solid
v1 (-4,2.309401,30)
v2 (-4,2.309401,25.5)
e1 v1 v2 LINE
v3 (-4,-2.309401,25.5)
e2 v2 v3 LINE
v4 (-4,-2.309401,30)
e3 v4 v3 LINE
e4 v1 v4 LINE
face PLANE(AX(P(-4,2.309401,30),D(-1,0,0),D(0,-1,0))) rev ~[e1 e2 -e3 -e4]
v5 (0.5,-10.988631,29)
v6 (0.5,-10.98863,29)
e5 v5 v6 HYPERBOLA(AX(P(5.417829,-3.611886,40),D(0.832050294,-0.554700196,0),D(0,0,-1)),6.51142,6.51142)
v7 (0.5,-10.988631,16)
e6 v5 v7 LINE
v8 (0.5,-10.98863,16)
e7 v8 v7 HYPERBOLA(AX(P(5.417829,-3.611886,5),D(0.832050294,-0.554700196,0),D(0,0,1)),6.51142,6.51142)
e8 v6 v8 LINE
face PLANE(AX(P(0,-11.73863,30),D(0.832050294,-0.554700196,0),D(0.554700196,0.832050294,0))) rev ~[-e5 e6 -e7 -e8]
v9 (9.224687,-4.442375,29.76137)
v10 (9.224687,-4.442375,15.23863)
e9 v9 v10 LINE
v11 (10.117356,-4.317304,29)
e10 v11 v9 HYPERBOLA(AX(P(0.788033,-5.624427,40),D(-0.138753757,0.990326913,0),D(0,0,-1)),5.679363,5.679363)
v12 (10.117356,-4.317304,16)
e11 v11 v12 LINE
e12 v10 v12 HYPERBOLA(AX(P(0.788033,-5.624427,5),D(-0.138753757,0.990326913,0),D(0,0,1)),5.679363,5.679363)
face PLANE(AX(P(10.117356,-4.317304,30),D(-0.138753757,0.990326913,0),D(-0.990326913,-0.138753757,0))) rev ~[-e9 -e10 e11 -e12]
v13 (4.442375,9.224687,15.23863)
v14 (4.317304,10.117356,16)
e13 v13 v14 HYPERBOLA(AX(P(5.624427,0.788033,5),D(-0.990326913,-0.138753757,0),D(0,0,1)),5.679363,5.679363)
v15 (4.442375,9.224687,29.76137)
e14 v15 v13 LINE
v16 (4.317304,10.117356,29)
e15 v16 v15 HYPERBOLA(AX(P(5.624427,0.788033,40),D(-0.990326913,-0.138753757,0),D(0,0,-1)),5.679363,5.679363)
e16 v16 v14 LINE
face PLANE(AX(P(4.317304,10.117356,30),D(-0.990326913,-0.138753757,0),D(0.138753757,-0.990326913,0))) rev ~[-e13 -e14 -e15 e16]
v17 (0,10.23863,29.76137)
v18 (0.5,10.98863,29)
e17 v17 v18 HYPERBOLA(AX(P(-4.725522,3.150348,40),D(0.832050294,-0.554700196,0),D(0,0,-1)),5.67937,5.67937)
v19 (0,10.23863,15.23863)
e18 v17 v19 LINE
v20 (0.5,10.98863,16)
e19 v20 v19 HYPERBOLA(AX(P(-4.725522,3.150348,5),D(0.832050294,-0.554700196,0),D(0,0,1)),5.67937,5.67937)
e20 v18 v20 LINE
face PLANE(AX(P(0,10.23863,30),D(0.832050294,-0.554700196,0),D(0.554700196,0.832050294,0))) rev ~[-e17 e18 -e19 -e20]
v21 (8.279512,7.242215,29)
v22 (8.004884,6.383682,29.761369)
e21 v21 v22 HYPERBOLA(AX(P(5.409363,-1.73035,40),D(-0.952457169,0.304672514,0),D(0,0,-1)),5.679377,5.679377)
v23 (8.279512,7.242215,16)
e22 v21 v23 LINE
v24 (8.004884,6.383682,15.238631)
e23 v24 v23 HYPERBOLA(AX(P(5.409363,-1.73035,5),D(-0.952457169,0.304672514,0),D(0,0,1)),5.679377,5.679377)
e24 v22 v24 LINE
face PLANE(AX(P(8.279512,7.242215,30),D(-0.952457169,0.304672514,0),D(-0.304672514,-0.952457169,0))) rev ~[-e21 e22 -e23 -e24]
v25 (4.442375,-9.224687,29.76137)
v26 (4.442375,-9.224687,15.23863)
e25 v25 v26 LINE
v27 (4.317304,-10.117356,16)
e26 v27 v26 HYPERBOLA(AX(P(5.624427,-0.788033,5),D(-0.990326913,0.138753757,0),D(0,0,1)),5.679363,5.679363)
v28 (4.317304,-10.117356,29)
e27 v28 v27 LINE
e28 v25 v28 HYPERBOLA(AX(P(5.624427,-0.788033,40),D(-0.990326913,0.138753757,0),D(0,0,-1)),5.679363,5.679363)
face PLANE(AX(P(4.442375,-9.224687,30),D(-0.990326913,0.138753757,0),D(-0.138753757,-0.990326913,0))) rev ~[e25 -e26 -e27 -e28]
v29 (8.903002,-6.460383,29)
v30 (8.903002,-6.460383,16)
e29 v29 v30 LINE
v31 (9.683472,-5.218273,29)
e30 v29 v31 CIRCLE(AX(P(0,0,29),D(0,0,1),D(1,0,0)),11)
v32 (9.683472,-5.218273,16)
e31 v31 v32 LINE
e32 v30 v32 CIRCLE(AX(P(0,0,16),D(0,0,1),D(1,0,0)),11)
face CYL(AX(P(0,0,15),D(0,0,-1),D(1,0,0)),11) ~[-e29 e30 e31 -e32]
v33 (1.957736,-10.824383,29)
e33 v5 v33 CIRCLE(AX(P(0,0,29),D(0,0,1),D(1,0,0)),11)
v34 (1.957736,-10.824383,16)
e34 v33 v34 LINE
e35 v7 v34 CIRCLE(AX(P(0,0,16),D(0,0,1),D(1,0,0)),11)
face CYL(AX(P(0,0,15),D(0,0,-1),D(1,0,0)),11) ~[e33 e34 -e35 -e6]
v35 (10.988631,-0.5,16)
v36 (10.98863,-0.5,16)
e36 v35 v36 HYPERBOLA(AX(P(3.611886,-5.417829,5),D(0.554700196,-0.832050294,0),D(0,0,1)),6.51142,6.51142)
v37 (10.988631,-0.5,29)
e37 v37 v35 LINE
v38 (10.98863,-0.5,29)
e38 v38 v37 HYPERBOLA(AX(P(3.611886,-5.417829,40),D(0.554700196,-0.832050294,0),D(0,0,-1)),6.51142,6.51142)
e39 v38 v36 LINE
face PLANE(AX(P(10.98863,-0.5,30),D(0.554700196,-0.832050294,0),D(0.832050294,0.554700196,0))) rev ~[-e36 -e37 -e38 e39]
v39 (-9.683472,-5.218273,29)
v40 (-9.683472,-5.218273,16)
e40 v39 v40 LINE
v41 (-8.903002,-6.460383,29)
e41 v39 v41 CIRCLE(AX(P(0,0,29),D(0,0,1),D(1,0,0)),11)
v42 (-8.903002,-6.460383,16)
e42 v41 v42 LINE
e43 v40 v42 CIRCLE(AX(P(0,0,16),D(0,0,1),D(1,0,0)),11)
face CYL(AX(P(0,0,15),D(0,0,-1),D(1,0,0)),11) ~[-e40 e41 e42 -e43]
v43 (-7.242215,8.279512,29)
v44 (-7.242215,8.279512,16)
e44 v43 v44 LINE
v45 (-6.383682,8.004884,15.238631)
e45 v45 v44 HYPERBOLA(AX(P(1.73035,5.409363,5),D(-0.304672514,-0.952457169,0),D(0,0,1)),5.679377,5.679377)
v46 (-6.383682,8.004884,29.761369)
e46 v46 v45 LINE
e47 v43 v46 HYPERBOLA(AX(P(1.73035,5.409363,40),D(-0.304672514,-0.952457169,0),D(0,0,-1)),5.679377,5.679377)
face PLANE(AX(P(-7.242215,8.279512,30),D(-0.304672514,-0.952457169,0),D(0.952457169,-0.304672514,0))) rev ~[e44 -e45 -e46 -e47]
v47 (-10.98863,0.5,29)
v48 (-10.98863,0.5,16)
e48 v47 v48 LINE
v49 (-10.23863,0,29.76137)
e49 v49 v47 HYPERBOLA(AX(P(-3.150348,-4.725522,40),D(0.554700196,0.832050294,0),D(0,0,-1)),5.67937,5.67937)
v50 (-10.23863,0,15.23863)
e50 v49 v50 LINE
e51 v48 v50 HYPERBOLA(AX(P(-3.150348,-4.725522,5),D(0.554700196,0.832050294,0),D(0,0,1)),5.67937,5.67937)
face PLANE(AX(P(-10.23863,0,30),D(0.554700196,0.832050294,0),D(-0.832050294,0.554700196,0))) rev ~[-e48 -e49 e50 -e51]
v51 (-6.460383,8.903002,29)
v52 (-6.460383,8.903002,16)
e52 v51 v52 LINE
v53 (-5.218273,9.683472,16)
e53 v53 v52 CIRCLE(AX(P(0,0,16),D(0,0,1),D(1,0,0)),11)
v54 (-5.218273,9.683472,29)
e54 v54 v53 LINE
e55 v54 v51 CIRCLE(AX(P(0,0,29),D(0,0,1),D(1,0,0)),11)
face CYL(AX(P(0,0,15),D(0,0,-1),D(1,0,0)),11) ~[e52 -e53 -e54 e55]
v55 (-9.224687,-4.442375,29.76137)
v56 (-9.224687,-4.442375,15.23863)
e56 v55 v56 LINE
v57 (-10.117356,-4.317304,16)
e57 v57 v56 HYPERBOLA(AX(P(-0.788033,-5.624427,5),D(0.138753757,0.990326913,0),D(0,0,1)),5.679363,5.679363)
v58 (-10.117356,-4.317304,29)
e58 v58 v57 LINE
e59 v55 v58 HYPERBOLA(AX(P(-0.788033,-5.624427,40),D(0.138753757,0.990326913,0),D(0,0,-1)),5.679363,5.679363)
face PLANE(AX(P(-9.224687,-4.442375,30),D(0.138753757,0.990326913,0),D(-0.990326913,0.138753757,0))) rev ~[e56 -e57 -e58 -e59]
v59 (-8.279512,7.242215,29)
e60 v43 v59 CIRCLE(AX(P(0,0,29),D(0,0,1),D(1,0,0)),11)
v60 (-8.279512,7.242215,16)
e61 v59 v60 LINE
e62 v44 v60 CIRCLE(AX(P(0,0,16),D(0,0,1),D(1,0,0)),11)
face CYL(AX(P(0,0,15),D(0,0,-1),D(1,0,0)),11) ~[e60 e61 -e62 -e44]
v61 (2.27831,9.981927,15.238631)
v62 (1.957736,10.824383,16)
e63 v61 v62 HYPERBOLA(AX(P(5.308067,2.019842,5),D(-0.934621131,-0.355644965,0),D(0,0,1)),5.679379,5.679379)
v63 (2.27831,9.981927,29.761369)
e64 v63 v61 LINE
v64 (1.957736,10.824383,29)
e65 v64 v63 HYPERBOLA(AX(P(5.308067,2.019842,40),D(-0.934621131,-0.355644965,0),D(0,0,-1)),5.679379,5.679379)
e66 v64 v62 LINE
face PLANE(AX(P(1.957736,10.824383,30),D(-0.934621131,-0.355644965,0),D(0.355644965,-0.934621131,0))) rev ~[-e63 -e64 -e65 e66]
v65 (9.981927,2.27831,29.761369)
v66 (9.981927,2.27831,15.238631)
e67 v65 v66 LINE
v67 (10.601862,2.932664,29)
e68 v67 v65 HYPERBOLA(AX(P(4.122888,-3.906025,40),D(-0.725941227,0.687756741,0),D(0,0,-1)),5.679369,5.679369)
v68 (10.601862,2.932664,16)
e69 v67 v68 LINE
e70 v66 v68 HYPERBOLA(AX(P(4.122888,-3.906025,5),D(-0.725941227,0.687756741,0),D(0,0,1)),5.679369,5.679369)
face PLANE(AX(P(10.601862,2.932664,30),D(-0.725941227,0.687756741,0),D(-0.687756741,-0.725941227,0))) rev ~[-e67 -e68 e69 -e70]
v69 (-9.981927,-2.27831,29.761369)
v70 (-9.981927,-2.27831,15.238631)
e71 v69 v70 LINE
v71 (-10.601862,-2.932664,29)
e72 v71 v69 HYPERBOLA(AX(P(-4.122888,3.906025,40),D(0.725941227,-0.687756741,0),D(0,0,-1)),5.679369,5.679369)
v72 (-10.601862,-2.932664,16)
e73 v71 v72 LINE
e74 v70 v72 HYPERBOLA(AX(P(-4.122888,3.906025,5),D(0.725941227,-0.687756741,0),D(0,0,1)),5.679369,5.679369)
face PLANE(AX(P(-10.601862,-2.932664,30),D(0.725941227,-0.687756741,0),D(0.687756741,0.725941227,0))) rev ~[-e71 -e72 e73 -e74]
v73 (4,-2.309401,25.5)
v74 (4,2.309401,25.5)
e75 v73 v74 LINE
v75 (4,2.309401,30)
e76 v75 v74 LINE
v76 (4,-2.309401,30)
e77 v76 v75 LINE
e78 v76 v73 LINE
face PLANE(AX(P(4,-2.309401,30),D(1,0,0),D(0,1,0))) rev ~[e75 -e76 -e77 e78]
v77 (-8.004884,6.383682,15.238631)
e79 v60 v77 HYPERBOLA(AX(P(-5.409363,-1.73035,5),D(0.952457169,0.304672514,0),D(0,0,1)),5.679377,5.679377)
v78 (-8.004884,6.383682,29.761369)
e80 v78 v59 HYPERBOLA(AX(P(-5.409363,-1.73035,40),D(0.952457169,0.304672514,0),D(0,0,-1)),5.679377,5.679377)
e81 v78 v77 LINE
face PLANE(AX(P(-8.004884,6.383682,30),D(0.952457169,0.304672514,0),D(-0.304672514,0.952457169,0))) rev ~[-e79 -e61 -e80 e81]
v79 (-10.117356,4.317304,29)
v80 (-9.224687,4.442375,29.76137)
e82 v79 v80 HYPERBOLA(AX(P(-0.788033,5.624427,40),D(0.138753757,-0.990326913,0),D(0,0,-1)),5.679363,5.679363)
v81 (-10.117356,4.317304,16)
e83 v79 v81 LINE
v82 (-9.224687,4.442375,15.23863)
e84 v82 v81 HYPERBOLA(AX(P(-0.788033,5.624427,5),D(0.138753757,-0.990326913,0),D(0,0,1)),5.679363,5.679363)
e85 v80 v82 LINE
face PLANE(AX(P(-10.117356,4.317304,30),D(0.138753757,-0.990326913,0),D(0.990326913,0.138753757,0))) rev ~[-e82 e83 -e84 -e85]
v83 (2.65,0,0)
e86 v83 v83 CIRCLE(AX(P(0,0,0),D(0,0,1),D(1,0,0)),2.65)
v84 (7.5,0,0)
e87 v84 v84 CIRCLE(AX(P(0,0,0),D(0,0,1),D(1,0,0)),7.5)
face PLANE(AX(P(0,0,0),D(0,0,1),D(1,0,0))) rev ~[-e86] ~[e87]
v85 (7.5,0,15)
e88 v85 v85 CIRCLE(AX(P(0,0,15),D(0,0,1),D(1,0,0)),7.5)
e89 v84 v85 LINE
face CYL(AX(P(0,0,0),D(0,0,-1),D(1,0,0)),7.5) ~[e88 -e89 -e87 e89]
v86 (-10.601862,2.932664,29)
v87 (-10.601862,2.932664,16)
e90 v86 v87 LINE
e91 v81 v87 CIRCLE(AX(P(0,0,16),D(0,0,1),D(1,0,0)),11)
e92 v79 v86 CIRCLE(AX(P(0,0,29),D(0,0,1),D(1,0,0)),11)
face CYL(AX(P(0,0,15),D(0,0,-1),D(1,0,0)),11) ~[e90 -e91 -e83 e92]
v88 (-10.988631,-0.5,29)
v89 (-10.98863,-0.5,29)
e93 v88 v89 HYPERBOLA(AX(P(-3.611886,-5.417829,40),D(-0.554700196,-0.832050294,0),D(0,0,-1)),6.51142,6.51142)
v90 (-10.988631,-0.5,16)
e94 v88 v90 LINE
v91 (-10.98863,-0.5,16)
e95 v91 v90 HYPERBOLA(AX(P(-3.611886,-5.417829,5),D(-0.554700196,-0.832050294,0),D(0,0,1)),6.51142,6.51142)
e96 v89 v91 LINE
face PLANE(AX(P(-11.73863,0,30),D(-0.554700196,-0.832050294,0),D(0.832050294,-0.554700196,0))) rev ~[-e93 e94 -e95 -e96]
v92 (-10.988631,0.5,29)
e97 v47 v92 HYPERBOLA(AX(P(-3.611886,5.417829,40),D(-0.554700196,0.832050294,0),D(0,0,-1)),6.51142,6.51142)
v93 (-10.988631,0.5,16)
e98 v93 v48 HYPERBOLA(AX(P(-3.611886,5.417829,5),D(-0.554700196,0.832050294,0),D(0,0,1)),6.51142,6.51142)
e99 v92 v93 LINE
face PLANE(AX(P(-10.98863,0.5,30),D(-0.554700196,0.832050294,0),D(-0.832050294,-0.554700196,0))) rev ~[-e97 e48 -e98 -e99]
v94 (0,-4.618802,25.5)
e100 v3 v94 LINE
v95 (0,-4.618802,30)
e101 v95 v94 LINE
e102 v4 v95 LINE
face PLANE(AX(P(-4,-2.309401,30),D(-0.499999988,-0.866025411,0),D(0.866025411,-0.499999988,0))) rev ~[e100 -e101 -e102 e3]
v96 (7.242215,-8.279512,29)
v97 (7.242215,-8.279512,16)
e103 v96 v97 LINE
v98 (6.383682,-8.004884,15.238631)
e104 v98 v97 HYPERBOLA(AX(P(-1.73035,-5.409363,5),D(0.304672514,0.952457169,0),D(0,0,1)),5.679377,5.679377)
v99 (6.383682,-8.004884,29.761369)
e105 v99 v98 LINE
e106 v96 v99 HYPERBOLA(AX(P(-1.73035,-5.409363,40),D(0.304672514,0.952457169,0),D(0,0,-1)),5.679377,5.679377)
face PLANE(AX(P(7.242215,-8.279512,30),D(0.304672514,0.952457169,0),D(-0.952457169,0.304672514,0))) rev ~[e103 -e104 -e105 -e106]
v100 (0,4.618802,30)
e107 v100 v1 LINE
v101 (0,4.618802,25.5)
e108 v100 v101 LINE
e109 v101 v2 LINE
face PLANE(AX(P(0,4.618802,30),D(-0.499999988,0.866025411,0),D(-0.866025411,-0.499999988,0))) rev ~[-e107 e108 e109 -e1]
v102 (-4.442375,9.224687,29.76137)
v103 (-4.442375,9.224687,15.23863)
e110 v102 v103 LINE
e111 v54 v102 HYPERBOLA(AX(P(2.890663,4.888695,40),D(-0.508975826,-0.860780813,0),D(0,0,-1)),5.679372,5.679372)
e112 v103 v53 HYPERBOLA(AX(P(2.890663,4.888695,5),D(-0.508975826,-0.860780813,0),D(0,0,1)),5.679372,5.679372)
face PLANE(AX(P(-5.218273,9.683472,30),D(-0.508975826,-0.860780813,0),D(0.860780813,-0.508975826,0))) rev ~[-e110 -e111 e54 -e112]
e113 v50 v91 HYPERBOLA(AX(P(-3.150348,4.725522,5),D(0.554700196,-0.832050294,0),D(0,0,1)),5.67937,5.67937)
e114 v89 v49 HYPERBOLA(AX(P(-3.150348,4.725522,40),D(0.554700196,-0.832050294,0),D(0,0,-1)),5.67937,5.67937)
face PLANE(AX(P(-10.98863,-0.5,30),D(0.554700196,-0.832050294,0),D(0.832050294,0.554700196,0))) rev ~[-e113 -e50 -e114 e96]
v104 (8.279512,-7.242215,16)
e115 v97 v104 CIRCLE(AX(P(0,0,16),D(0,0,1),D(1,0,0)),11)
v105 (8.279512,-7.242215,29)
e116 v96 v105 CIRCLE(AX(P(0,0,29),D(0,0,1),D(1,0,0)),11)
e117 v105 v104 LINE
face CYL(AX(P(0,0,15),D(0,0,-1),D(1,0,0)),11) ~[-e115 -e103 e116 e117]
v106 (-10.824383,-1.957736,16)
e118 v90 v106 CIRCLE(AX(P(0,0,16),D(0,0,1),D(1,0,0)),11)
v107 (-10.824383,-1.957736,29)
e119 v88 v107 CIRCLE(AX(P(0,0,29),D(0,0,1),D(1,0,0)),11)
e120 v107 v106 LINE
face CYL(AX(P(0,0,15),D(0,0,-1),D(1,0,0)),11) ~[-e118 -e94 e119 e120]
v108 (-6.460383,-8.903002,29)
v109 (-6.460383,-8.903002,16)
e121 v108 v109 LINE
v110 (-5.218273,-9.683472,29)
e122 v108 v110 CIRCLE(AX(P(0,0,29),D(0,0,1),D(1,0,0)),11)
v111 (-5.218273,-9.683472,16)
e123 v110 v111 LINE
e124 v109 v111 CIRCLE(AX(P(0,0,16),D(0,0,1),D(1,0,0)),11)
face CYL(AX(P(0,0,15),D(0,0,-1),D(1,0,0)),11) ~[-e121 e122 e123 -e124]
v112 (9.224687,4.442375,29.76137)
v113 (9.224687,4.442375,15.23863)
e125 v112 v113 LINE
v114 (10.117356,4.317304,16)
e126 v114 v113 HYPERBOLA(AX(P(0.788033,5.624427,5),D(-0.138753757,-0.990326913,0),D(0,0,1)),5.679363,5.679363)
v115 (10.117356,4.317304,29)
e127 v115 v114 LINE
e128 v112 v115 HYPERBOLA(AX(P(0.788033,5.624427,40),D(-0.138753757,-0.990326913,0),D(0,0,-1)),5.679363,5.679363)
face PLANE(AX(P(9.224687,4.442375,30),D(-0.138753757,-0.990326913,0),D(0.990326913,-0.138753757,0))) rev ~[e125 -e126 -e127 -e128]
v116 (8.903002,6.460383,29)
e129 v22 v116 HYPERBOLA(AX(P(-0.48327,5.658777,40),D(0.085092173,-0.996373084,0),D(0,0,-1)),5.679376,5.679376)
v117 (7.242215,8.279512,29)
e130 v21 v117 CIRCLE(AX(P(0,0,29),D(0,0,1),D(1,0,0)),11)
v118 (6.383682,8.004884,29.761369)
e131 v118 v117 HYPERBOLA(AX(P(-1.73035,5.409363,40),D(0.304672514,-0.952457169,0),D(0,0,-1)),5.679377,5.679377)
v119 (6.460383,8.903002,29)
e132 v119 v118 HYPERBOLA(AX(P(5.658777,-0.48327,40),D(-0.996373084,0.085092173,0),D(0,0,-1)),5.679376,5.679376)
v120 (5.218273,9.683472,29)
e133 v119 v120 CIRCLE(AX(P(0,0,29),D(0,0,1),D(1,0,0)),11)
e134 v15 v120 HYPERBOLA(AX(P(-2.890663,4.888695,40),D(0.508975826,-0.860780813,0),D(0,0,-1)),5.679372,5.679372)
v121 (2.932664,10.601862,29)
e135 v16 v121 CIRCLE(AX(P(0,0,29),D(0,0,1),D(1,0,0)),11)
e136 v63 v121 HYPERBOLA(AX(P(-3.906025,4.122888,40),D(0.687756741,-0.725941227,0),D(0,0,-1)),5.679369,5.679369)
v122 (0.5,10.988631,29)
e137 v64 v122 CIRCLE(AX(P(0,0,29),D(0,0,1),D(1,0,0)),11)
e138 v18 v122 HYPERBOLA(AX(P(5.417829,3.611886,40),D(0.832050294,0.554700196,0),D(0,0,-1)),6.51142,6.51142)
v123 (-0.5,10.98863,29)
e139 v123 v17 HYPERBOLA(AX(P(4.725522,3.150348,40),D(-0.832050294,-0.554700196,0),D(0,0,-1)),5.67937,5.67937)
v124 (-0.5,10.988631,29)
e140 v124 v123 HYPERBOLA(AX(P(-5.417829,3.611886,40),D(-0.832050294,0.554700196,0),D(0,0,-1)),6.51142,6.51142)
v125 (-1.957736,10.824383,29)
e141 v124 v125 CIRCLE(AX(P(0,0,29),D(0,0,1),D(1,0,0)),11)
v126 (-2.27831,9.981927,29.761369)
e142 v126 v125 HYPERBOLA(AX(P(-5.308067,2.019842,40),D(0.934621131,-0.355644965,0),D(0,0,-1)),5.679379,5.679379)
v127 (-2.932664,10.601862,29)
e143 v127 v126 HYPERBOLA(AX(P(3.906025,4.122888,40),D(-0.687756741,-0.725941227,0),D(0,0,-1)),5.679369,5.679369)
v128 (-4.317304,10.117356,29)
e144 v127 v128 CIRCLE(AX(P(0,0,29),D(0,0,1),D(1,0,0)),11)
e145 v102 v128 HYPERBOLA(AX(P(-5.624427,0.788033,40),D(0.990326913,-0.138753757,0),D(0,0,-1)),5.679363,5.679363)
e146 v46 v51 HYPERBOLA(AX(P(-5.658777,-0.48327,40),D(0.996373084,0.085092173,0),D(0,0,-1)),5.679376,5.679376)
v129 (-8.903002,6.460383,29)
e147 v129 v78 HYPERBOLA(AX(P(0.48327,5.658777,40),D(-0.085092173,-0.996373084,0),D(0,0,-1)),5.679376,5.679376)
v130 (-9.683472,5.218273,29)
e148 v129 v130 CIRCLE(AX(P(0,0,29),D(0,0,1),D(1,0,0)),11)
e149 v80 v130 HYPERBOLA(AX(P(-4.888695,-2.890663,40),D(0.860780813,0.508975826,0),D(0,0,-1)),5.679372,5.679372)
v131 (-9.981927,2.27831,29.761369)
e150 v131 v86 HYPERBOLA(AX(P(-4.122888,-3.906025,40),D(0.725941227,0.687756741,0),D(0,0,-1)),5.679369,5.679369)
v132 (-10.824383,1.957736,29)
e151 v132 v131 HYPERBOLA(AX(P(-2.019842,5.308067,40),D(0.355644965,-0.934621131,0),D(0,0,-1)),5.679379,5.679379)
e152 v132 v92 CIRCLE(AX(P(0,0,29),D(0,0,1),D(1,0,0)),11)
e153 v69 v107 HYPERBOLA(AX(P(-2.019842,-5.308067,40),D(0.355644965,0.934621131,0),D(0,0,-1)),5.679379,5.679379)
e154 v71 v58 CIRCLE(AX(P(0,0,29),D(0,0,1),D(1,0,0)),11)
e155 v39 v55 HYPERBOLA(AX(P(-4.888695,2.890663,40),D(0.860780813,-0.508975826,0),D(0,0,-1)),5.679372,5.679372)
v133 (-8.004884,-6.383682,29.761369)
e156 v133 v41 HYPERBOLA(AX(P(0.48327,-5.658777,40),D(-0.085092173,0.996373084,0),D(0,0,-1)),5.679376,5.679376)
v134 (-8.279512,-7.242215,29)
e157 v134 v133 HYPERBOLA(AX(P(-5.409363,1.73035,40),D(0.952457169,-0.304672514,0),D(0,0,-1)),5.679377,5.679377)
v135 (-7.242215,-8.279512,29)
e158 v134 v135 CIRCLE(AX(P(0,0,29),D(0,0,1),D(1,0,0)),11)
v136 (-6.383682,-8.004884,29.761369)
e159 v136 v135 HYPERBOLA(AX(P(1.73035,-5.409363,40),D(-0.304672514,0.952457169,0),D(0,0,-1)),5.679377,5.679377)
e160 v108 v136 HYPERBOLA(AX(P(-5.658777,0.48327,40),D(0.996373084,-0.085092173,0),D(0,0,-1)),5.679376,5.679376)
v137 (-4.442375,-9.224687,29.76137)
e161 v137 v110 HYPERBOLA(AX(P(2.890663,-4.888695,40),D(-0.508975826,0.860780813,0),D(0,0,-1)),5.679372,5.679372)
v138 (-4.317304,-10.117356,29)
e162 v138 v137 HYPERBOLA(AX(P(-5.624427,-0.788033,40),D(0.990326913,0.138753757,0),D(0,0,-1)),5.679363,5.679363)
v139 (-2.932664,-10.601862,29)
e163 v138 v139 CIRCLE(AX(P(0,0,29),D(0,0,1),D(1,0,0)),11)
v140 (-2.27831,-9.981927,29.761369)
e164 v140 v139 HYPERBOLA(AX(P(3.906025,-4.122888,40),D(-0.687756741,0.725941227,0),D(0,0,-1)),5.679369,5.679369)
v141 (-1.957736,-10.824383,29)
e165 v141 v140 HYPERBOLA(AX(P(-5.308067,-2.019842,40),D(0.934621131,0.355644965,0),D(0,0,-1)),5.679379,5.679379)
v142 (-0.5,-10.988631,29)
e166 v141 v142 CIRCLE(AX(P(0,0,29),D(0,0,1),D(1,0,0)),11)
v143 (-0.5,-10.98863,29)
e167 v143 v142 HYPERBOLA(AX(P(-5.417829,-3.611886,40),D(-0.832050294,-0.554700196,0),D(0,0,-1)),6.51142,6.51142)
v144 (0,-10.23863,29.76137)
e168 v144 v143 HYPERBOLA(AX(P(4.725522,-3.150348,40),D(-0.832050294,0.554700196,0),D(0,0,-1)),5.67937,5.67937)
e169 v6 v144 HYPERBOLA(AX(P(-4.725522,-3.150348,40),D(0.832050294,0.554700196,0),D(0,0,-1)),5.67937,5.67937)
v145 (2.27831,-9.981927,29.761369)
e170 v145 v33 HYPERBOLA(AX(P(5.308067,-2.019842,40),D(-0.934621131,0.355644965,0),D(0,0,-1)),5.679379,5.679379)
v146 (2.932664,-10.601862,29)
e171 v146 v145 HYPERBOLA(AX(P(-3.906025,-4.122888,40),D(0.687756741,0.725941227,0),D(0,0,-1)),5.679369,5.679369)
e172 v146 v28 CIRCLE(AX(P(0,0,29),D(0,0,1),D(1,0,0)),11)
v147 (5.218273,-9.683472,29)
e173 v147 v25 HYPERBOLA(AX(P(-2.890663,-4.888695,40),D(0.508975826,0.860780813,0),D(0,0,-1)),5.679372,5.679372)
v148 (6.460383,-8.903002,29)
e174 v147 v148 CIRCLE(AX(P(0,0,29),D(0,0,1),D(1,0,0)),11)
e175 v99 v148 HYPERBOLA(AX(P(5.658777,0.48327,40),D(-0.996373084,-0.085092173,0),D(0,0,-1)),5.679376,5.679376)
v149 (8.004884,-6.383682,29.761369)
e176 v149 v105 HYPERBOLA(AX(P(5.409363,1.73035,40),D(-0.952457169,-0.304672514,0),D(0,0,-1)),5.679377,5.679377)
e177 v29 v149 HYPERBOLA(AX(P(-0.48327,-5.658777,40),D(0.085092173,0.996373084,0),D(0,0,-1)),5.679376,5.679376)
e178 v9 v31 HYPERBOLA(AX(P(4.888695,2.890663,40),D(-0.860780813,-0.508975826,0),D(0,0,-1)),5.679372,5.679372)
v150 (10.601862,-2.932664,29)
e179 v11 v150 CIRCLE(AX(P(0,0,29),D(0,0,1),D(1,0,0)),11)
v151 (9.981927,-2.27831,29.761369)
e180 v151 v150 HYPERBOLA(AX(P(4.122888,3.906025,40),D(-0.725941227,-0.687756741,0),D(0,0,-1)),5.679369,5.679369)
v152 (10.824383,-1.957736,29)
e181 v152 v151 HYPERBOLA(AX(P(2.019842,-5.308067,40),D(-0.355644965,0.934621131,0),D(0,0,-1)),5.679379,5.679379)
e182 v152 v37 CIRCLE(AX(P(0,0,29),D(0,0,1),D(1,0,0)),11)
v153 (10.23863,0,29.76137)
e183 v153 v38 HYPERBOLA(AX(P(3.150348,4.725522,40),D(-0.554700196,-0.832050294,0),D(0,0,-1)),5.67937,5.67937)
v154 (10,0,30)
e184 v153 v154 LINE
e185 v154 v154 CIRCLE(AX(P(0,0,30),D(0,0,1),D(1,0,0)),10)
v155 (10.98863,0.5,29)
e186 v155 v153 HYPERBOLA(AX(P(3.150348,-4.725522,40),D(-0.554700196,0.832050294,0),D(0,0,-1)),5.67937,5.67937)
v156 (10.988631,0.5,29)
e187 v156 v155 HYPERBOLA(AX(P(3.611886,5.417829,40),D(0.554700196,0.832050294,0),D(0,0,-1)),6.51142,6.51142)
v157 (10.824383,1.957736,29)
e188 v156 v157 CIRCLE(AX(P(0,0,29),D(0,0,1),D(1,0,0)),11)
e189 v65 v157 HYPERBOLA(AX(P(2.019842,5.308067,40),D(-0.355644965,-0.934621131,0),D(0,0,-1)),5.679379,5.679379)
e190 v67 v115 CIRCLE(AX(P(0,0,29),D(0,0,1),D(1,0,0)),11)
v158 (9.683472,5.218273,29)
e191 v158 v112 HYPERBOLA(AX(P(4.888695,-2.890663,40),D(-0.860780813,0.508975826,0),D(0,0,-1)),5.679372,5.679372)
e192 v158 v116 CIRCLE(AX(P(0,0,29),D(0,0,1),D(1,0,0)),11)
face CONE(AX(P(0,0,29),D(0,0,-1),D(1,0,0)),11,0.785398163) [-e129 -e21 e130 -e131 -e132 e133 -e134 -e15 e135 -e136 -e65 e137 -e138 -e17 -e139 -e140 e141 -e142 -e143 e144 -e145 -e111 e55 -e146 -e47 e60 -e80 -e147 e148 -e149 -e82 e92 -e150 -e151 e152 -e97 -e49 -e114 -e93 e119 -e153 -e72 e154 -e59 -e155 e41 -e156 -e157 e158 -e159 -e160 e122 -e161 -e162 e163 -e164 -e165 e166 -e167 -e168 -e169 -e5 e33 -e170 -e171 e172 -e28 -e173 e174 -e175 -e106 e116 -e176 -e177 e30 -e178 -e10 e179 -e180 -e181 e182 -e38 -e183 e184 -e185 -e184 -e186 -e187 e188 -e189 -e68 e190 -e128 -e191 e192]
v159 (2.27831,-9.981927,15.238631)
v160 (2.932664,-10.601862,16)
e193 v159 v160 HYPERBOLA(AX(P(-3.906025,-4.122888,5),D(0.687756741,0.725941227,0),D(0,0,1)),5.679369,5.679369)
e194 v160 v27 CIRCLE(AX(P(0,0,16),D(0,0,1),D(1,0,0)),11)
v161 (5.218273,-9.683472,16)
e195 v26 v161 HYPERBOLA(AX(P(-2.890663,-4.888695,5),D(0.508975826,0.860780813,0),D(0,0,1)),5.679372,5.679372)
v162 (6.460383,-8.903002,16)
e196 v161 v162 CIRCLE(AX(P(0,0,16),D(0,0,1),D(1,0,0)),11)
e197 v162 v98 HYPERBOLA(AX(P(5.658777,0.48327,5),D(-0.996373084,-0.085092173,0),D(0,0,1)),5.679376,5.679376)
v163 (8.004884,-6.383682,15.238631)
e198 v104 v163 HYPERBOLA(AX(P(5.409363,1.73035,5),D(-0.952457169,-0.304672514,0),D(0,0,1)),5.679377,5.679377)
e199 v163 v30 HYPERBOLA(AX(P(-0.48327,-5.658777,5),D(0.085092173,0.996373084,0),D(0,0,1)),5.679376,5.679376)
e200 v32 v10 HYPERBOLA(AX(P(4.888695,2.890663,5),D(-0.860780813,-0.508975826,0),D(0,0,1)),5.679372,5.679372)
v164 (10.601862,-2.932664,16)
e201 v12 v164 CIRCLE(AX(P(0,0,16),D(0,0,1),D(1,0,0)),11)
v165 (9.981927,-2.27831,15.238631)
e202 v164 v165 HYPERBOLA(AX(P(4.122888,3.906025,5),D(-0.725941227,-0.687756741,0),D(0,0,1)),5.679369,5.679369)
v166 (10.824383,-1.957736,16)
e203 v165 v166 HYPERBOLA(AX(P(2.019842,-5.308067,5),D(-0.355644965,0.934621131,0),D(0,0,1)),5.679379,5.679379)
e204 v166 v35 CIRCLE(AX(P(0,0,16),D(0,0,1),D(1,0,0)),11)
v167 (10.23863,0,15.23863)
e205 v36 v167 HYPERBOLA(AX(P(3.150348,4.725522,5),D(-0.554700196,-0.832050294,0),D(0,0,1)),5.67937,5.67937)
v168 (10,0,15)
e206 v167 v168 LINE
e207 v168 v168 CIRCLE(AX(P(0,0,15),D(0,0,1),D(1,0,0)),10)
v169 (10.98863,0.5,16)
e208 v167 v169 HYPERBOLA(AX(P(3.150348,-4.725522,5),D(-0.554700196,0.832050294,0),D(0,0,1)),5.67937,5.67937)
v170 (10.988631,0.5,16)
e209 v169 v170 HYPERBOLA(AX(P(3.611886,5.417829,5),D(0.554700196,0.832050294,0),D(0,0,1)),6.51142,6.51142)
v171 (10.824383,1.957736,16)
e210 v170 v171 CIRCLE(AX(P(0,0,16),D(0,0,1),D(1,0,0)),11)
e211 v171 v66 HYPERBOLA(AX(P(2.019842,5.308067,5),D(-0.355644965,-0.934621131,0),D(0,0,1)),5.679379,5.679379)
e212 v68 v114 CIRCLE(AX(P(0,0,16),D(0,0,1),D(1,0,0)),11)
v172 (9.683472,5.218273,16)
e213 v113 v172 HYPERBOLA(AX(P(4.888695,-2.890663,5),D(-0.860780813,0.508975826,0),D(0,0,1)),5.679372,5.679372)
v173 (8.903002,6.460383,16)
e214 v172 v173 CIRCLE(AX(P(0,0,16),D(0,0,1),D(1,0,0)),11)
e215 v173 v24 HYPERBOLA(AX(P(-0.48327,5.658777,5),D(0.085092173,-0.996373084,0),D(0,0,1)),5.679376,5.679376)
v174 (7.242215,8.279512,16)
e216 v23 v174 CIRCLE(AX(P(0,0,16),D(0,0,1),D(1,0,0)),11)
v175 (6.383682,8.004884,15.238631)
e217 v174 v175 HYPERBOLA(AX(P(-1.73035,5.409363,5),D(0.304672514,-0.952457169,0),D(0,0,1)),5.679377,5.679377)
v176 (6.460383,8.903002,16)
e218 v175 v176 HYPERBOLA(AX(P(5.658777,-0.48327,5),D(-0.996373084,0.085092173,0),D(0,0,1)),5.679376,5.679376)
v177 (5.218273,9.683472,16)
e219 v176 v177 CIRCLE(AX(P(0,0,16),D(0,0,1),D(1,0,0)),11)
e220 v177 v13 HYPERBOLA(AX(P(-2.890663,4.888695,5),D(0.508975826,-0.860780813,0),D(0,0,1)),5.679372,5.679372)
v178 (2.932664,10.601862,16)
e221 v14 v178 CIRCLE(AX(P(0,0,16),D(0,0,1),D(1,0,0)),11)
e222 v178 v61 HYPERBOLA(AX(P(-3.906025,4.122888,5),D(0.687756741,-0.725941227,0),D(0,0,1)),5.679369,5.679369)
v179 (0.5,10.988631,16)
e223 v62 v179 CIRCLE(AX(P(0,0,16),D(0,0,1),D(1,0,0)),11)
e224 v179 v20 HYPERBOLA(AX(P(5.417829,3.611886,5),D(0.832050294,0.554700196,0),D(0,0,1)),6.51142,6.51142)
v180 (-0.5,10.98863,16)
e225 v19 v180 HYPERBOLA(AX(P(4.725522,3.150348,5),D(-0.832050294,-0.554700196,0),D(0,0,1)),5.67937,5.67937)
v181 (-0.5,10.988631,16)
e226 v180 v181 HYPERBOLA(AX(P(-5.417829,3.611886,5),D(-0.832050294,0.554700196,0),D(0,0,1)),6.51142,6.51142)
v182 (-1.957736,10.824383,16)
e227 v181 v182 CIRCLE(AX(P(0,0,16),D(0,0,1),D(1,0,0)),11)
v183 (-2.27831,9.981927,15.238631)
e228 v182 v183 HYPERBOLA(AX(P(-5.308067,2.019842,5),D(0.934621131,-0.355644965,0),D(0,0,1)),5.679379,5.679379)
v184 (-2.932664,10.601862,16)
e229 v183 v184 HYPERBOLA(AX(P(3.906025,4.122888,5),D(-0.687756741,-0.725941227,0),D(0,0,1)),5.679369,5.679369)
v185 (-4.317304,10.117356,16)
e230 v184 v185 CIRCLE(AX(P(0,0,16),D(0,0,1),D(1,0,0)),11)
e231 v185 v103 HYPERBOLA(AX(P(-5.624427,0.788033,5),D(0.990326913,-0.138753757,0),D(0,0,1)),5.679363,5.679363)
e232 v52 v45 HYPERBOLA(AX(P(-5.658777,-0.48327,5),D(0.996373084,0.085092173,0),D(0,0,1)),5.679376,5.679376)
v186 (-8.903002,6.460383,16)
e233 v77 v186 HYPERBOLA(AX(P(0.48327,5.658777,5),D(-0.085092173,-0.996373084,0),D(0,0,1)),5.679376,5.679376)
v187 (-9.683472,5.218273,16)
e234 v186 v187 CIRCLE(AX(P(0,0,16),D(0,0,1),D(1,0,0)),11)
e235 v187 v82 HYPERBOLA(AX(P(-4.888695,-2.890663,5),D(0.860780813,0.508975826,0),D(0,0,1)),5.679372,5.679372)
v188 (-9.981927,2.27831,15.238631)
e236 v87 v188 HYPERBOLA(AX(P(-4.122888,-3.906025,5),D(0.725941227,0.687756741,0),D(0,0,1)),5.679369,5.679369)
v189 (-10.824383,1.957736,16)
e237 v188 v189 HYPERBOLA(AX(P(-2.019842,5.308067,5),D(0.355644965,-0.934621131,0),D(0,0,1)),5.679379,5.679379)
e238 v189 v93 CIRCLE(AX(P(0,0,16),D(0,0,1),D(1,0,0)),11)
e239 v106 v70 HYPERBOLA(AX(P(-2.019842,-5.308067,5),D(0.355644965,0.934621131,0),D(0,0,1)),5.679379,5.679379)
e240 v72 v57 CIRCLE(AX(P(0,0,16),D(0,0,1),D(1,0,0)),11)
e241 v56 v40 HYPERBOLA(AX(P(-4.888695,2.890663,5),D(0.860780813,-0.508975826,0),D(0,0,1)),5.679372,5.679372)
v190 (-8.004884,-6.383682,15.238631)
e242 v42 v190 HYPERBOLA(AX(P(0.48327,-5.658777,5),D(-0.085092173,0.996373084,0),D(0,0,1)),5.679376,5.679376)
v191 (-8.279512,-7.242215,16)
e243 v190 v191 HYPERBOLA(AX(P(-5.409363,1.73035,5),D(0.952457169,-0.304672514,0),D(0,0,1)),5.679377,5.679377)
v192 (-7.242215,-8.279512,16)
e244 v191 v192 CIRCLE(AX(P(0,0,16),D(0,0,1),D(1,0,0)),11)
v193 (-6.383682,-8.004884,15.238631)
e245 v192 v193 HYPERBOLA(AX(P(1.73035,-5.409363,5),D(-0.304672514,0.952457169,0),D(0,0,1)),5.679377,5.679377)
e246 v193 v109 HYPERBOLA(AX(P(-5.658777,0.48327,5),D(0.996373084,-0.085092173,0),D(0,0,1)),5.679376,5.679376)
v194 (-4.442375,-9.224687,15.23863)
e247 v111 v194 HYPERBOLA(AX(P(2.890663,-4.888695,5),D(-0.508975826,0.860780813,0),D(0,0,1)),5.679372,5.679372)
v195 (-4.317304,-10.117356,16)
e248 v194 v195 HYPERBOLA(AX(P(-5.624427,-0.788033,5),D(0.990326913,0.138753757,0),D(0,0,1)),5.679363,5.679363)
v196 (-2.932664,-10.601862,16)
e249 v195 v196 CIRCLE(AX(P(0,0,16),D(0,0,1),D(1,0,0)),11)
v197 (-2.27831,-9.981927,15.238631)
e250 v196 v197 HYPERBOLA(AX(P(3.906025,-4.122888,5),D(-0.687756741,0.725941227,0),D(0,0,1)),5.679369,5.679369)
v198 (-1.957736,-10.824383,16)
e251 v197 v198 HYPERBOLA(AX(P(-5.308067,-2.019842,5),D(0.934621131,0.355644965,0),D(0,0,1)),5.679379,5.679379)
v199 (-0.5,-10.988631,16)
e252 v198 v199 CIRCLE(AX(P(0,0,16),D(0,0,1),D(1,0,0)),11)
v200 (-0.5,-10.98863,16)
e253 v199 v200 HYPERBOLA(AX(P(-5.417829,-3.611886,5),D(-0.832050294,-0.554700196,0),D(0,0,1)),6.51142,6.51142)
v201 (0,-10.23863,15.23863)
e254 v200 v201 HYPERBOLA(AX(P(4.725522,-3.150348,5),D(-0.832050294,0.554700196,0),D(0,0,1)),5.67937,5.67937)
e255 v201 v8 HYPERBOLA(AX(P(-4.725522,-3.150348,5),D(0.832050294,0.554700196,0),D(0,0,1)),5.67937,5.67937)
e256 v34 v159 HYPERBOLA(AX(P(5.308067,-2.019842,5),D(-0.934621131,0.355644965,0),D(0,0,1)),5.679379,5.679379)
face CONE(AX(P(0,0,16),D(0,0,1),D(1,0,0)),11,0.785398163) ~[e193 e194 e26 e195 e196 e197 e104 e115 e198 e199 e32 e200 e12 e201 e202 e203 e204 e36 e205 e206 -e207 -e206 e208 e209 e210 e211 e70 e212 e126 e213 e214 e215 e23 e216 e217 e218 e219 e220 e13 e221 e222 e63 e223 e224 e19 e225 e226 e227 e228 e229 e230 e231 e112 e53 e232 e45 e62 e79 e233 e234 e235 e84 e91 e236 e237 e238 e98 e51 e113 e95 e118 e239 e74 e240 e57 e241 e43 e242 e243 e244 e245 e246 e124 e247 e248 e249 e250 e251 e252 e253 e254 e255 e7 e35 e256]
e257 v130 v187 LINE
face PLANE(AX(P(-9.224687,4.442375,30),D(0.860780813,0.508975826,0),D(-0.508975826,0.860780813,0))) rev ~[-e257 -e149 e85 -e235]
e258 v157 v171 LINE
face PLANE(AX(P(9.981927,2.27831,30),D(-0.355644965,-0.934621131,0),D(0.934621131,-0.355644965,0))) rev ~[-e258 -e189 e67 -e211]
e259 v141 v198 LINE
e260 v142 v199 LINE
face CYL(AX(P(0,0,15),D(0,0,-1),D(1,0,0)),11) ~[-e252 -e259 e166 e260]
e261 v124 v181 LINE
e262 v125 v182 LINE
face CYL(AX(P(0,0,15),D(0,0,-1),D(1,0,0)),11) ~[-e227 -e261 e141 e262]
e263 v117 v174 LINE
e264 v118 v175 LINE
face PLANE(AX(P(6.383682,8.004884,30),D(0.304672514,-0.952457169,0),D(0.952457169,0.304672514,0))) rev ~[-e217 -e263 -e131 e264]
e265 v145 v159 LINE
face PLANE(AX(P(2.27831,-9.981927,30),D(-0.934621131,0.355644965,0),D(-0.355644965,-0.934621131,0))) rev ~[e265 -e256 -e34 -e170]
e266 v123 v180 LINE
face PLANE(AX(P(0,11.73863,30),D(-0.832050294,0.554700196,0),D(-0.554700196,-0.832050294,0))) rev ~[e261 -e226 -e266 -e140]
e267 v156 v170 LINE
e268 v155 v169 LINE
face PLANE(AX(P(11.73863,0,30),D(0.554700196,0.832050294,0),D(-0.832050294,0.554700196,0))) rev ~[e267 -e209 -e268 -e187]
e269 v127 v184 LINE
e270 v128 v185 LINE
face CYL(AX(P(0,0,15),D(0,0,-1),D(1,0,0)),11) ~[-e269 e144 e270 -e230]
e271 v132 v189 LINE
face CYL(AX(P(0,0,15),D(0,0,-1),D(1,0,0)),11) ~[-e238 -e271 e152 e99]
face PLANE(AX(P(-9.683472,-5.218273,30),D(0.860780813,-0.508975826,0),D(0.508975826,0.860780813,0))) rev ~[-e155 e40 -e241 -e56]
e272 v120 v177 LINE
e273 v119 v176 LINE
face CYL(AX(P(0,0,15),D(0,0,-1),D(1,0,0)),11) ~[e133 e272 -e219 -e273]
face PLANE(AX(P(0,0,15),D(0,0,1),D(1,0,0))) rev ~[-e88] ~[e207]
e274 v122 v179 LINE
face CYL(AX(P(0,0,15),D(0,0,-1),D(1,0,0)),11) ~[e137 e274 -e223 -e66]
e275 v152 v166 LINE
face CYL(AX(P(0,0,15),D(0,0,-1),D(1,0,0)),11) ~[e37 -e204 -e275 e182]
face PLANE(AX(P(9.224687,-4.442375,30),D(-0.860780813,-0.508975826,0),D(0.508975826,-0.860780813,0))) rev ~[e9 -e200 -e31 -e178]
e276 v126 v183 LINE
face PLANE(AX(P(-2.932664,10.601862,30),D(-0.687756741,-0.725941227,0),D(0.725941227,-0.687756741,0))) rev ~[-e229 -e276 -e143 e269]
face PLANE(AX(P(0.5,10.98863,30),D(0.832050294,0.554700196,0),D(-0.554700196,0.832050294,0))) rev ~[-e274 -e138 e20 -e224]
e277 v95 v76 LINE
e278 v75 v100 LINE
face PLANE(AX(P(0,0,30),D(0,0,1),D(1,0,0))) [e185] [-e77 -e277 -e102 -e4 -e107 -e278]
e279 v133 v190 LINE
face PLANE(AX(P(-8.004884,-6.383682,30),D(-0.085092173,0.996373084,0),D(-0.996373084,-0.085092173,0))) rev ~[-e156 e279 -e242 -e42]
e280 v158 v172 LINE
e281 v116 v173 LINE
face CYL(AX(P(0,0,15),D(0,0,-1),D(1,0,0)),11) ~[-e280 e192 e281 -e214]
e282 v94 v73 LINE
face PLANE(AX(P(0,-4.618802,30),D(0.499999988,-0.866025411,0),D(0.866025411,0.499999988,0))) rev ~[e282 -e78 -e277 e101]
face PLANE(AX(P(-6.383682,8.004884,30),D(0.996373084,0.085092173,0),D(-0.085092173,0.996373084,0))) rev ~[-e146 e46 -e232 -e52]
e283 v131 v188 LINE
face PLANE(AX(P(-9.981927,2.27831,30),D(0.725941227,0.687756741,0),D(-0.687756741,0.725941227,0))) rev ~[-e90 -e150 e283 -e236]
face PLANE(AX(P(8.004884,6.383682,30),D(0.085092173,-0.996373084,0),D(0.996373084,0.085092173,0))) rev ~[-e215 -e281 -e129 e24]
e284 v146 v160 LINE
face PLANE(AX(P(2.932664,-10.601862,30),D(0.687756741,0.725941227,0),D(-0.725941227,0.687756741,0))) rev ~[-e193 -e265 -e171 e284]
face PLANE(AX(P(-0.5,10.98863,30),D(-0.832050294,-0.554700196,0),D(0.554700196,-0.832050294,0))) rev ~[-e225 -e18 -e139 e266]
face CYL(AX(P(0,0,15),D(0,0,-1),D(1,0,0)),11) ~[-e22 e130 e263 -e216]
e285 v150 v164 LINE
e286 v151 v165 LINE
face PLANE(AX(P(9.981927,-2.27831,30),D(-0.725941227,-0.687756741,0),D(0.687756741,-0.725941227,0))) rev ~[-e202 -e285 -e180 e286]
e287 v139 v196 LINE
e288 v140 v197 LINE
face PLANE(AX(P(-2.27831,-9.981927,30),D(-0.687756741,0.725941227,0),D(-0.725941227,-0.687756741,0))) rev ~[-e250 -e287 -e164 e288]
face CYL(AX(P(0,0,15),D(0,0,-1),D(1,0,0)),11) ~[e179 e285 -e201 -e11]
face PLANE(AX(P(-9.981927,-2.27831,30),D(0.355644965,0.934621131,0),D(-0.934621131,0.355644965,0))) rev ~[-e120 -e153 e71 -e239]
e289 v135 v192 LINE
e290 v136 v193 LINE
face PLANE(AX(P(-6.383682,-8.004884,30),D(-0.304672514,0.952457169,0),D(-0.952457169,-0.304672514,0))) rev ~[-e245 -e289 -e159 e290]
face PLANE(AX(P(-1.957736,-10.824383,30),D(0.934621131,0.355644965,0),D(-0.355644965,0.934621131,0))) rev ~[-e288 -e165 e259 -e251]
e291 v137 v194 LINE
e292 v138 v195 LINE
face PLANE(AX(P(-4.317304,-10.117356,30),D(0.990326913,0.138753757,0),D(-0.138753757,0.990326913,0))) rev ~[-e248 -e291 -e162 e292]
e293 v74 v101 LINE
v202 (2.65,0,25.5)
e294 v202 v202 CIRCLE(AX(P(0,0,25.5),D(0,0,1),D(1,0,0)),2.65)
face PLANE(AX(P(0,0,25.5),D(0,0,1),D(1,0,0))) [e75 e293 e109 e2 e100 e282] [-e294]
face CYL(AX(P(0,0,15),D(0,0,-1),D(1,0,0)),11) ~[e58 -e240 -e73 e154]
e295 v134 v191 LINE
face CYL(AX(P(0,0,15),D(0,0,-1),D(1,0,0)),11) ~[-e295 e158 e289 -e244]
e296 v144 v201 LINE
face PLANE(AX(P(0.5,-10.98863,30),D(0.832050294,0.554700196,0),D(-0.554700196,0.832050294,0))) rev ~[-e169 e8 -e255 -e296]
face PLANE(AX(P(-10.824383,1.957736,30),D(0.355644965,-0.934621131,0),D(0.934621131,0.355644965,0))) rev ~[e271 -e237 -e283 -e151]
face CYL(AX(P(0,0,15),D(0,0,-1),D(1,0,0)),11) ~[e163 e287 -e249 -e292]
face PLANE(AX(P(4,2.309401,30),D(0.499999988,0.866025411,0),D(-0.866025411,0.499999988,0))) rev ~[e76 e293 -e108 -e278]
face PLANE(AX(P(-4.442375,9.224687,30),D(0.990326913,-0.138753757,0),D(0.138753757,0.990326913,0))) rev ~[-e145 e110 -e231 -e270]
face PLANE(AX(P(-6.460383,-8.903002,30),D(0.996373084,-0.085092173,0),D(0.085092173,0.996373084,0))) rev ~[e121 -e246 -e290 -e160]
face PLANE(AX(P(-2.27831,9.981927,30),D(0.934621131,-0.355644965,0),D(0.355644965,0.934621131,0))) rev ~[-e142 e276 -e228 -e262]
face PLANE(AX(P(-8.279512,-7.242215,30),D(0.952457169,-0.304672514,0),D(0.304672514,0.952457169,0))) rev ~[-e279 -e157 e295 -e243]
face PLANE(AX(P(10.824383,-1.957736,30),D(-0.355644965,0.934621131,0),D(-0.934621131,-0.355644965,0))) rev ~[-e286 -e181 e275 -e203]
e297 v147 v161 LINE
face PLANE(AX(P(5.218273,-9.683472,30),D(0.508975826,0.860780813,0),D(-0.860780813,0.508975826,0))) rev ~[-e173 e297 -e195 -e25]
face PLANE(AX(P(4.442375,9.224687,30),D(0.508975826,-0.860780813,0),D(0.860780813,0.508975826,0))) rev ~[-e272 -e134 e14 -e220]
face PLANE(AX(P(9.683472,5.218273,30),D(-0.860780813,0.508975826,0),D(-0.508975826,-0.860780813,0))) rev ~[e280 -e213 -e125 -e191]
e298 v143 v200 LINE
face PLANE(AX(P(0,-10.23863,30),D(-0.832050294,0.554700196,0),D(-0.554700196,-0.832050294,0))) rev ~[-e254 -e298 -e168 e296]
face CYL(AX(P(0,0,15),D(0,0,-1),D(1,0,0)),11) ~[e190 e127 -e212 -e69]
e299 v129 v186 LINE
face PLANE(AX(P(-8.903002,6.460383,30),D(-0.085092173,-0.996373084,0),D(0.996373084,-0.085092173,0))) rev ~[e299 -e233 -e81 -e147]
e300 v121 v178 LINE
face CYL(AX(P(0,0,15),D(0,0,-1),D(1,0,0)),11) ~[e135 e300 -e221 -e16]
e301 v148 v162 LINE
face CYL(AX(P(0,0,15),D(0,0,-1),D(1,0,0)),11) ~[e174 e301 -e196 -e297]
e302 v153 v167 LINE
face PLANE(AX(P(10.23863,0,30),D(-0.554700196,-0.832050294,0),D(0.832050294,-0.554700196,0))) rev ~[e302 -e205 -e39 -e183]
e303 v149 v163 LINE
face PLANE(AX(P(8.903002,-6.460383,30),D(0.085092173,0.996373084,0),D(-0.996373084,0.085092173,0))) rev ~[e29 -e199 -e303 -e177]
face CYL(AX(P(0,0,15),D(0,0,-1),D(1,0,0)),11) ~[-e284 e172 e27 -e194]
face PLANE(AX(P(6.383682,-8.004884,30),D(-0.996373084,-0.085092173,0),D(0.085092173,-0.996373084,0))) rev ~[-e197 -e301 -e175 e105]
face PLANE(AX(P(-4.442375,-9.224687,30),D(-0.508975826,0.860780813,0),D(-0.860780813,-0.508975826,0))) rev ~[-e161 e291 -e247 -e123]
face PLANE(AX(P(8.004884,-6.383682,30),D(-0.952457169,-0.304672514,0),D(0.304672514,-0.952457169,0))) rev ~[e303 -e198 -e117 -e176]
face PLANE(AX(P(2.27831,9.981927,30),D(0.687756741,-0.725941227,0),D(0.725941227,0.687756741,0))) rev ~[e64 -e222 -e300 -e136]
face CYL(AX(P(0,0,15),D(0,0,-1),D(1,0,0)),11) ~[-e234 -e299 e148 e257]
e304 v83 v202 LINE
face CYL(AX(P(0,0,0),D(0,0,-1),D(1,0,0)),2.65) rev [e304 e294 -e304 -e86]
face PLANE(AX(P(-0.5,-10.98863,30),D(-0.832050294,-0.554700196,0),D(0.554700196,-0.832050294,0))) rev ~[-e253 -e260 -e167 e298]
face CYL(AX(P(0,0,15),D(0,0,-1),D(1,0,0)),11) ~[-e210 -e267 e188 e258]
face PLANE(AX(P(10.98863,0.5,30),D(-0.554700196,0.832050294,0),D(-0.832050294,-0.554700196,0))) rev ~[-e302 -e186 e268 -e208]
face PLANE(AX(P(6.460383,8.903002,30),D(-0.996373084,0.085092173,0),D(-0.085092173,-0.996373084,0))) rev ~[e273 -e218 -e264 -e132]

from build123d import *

# Parameters (mm, degrees)
F0_R      = 7.5
F0_R_2    = 2.65
F1_DEPTH  = 15
F2_R      = 11
F3_DEPTH  = 15
F4_DEPTH  = 15
F6_DEPTH  = 4.5
F7_SIZE   = 1
F9_DEPTH  = 25
F10_R     = 2.65
F11_DEPTH = 25


with BuildPart() as f1:
    # F0 (on Top) → F1 (new body)
    with BuildSketch(Plane.XY):
        Circle(F0_R)
        Circle(F0_R_2, mode=Mode.SUBTRACT)
    extrude(amount=F1_DEPTH)

    # F2 (on face) → F3 (join)
    with BuildSketch(Plane.XY.offset(15)):
        Circle(F2_R)
    extrude(amount=F3_DEPTH)

    # F2 (on face) → F4 (join)
    with BuildSketch(Plane.XY.offset(15)):
        Circle(F2_R)
    extrude(amount=F4_DEPTH)

    # F5 (on face) → F6 (cut)
    with BuildSketch(Plane.XY.offset(30)):
        Polygon((4, -2.309401), (4, 2.309401), (0, 4.618802), (-4, 2.309401), (-4, -2.309401), (0, -4.618802), align=None)
    extrude(amount=-F6_DEPTH, mode=Mode.SUBTRACT)

    # F7
    f7_edges = [f1.edges().sort_by_distance(p)[0] for p in [
        (-11, 0, 30),
        (-11, 0, 15),
    ]]
    chamfer(f7_edges, length=F7_SIZE)

    # F8 (on face) → F9 (cut)
    with BuildSketch(Plane.XY.offset(30)):
        Polygon((0, -10.23863), (-0.5, -10.98863), (0, -11.73863), (0.5, -10.98863), align=None)
        Polygon((1.957736, -10.824383), (2.612091, -11.444319), (2.932664, -10.601862), (2.27831, -9.981927), align=None)
        Polygon((4.317304, -10.117356), (5.093201, -10.576141), (5.218273, -9.683472), (4.442375, -9.224687), align=None)
        Polygon((6.460383, -8.903002), (7.318916, -9.177631), (7.242215, -8.279512), (6.383682, -8.004884), align=None)
        Polygon((8.279512, -7.242215), (9.177631, -7.318916), (8.903002, -6.460383), (8.004884, -6.383682), align=None)
        Polygon((9.683472, -5.218273), (10.576141, -5.093201), (10.117356, -4.317304), (9.224687, -4.442375), align=None)
        Polygon((10.601862, -2.932664), (11.444319, -2.612091), (10.824383, -1.957736), (9.981927, -2.27831), align=None)
        Polygon((10.98863, -0.5), (11.73863, 0), (10.98863, 0.5), (10.23863, 0), align=None)
        Polygon((10.824383, 1.957736), (11.444319, 2.612091), (10.601862, 2.932664), (9.981927, 2.27831), align=None)
        Polygon((10.117356, 4.317304), (10.576141, 5.093201), (9.683472, 5.218273), (9.224687, 4.442375), align=None)
        Polygon((8.903002, 6.460383), (9.177631, 7.318916), (8.279512, 7.242215), (8.004884, 6.383682), align=None)
        Polygon((7.242215, 8.279512), (7.318916, 9.177631), (6.460383, 8.903002), (6.383682, 8.004884), align=None)
        Polygon((5.218273, 9.683472), (5.093201, 10.576141), (4.317304, 10.117356), (4.442375, 9.224687), align=None)
        Polygon((2.932664, 10.601862), (2.612091, 11.444319), (1.957736, 10.824383), (2.27831, 9.981927), align=None)
        Polygon((0.5, 10.98863), (0, 11.73863), (-0.5, 10.98863), (0, 10.23863), align=None)
        Polygon((-1.957736, 10.824383), (-2.612091, 11.444319), (-2.932664, 10.601862), (-2.27831, 9.981927), align=None)
        Polygon((-4.317304, 10.117356), (-5.093201, 10.576141), (-5.218273, 9.683472), (-4.442375, 9.224687), align=None)
        Polygon((-6.460383, 8.903002), (-7.318916, 9.177631), (-7.242215, 8.279512), (-6.383682, 8.004884), align=None)
        Polygon((-8.279512, 7.242215), (-9.177631, 7.318916), (-8.903002, 6.460383), (-8.004884, 6.383682), align=None)
        Polygon((-9.683472, 5.218273), (-10.576141, 5.093201), (-10.117356, 4.317304), (-9.224687, 4.442375), align=None)
        Polygon((-10.601862, 2.932664), (-11.444319, 2.612091), (-10.824383, 1.957736), (-9.981927, 2.27831), align=None)
        Polygon((-10.98863, 0.5), (-11.73863, 0), (-10.98863, -0.5), (-10.23863, 0), align=None)
        Polygon((-10.824383, -1.957736), (-11.444319, -2.612091), (-10.601862, -2.932664), (-9.981927, -2.27831), align=None)
        Polygon((-10.117356, -4.317304), (-10.576141, -5.093201), (-9.683472, -5.218273), (-9.224687, -4.442375), align=None)
        Polygon((-8.903002, -6.460383), (-9.177631, -7.318916), (-8.279512, -7.242215), (-8.004884, -6.383682), align=None)
        Polygon((-7.242215, -8.279512), (-7.318916, -9.177631), (-6.460383, -8.903002), (-6.383682, -8.004884), align=None)
        Polygon((-5.218273, -9.683472), (-5.093201, -10.576141), (-4.317304, -10.117356), (-4.442375, -9.224687), align=None)
        Polygon((-2.932664, -10.601862), (-2.612091, -11.444319), (-1.957736, -10.824383), (-2.27831, -9.981927), align=None)
    extrude(amount=-F9_DEPTH, mode=Mode.SUBTRACT)

    # F10 (on face) → F11 (cut)
    with BuildSketch(Plane.XY.offset(25.5)):
        Circle(F10_R)
    extrude(amount=-F11_DEPTH, mode=Mode.SUBTRACT)


solid = f1.part
